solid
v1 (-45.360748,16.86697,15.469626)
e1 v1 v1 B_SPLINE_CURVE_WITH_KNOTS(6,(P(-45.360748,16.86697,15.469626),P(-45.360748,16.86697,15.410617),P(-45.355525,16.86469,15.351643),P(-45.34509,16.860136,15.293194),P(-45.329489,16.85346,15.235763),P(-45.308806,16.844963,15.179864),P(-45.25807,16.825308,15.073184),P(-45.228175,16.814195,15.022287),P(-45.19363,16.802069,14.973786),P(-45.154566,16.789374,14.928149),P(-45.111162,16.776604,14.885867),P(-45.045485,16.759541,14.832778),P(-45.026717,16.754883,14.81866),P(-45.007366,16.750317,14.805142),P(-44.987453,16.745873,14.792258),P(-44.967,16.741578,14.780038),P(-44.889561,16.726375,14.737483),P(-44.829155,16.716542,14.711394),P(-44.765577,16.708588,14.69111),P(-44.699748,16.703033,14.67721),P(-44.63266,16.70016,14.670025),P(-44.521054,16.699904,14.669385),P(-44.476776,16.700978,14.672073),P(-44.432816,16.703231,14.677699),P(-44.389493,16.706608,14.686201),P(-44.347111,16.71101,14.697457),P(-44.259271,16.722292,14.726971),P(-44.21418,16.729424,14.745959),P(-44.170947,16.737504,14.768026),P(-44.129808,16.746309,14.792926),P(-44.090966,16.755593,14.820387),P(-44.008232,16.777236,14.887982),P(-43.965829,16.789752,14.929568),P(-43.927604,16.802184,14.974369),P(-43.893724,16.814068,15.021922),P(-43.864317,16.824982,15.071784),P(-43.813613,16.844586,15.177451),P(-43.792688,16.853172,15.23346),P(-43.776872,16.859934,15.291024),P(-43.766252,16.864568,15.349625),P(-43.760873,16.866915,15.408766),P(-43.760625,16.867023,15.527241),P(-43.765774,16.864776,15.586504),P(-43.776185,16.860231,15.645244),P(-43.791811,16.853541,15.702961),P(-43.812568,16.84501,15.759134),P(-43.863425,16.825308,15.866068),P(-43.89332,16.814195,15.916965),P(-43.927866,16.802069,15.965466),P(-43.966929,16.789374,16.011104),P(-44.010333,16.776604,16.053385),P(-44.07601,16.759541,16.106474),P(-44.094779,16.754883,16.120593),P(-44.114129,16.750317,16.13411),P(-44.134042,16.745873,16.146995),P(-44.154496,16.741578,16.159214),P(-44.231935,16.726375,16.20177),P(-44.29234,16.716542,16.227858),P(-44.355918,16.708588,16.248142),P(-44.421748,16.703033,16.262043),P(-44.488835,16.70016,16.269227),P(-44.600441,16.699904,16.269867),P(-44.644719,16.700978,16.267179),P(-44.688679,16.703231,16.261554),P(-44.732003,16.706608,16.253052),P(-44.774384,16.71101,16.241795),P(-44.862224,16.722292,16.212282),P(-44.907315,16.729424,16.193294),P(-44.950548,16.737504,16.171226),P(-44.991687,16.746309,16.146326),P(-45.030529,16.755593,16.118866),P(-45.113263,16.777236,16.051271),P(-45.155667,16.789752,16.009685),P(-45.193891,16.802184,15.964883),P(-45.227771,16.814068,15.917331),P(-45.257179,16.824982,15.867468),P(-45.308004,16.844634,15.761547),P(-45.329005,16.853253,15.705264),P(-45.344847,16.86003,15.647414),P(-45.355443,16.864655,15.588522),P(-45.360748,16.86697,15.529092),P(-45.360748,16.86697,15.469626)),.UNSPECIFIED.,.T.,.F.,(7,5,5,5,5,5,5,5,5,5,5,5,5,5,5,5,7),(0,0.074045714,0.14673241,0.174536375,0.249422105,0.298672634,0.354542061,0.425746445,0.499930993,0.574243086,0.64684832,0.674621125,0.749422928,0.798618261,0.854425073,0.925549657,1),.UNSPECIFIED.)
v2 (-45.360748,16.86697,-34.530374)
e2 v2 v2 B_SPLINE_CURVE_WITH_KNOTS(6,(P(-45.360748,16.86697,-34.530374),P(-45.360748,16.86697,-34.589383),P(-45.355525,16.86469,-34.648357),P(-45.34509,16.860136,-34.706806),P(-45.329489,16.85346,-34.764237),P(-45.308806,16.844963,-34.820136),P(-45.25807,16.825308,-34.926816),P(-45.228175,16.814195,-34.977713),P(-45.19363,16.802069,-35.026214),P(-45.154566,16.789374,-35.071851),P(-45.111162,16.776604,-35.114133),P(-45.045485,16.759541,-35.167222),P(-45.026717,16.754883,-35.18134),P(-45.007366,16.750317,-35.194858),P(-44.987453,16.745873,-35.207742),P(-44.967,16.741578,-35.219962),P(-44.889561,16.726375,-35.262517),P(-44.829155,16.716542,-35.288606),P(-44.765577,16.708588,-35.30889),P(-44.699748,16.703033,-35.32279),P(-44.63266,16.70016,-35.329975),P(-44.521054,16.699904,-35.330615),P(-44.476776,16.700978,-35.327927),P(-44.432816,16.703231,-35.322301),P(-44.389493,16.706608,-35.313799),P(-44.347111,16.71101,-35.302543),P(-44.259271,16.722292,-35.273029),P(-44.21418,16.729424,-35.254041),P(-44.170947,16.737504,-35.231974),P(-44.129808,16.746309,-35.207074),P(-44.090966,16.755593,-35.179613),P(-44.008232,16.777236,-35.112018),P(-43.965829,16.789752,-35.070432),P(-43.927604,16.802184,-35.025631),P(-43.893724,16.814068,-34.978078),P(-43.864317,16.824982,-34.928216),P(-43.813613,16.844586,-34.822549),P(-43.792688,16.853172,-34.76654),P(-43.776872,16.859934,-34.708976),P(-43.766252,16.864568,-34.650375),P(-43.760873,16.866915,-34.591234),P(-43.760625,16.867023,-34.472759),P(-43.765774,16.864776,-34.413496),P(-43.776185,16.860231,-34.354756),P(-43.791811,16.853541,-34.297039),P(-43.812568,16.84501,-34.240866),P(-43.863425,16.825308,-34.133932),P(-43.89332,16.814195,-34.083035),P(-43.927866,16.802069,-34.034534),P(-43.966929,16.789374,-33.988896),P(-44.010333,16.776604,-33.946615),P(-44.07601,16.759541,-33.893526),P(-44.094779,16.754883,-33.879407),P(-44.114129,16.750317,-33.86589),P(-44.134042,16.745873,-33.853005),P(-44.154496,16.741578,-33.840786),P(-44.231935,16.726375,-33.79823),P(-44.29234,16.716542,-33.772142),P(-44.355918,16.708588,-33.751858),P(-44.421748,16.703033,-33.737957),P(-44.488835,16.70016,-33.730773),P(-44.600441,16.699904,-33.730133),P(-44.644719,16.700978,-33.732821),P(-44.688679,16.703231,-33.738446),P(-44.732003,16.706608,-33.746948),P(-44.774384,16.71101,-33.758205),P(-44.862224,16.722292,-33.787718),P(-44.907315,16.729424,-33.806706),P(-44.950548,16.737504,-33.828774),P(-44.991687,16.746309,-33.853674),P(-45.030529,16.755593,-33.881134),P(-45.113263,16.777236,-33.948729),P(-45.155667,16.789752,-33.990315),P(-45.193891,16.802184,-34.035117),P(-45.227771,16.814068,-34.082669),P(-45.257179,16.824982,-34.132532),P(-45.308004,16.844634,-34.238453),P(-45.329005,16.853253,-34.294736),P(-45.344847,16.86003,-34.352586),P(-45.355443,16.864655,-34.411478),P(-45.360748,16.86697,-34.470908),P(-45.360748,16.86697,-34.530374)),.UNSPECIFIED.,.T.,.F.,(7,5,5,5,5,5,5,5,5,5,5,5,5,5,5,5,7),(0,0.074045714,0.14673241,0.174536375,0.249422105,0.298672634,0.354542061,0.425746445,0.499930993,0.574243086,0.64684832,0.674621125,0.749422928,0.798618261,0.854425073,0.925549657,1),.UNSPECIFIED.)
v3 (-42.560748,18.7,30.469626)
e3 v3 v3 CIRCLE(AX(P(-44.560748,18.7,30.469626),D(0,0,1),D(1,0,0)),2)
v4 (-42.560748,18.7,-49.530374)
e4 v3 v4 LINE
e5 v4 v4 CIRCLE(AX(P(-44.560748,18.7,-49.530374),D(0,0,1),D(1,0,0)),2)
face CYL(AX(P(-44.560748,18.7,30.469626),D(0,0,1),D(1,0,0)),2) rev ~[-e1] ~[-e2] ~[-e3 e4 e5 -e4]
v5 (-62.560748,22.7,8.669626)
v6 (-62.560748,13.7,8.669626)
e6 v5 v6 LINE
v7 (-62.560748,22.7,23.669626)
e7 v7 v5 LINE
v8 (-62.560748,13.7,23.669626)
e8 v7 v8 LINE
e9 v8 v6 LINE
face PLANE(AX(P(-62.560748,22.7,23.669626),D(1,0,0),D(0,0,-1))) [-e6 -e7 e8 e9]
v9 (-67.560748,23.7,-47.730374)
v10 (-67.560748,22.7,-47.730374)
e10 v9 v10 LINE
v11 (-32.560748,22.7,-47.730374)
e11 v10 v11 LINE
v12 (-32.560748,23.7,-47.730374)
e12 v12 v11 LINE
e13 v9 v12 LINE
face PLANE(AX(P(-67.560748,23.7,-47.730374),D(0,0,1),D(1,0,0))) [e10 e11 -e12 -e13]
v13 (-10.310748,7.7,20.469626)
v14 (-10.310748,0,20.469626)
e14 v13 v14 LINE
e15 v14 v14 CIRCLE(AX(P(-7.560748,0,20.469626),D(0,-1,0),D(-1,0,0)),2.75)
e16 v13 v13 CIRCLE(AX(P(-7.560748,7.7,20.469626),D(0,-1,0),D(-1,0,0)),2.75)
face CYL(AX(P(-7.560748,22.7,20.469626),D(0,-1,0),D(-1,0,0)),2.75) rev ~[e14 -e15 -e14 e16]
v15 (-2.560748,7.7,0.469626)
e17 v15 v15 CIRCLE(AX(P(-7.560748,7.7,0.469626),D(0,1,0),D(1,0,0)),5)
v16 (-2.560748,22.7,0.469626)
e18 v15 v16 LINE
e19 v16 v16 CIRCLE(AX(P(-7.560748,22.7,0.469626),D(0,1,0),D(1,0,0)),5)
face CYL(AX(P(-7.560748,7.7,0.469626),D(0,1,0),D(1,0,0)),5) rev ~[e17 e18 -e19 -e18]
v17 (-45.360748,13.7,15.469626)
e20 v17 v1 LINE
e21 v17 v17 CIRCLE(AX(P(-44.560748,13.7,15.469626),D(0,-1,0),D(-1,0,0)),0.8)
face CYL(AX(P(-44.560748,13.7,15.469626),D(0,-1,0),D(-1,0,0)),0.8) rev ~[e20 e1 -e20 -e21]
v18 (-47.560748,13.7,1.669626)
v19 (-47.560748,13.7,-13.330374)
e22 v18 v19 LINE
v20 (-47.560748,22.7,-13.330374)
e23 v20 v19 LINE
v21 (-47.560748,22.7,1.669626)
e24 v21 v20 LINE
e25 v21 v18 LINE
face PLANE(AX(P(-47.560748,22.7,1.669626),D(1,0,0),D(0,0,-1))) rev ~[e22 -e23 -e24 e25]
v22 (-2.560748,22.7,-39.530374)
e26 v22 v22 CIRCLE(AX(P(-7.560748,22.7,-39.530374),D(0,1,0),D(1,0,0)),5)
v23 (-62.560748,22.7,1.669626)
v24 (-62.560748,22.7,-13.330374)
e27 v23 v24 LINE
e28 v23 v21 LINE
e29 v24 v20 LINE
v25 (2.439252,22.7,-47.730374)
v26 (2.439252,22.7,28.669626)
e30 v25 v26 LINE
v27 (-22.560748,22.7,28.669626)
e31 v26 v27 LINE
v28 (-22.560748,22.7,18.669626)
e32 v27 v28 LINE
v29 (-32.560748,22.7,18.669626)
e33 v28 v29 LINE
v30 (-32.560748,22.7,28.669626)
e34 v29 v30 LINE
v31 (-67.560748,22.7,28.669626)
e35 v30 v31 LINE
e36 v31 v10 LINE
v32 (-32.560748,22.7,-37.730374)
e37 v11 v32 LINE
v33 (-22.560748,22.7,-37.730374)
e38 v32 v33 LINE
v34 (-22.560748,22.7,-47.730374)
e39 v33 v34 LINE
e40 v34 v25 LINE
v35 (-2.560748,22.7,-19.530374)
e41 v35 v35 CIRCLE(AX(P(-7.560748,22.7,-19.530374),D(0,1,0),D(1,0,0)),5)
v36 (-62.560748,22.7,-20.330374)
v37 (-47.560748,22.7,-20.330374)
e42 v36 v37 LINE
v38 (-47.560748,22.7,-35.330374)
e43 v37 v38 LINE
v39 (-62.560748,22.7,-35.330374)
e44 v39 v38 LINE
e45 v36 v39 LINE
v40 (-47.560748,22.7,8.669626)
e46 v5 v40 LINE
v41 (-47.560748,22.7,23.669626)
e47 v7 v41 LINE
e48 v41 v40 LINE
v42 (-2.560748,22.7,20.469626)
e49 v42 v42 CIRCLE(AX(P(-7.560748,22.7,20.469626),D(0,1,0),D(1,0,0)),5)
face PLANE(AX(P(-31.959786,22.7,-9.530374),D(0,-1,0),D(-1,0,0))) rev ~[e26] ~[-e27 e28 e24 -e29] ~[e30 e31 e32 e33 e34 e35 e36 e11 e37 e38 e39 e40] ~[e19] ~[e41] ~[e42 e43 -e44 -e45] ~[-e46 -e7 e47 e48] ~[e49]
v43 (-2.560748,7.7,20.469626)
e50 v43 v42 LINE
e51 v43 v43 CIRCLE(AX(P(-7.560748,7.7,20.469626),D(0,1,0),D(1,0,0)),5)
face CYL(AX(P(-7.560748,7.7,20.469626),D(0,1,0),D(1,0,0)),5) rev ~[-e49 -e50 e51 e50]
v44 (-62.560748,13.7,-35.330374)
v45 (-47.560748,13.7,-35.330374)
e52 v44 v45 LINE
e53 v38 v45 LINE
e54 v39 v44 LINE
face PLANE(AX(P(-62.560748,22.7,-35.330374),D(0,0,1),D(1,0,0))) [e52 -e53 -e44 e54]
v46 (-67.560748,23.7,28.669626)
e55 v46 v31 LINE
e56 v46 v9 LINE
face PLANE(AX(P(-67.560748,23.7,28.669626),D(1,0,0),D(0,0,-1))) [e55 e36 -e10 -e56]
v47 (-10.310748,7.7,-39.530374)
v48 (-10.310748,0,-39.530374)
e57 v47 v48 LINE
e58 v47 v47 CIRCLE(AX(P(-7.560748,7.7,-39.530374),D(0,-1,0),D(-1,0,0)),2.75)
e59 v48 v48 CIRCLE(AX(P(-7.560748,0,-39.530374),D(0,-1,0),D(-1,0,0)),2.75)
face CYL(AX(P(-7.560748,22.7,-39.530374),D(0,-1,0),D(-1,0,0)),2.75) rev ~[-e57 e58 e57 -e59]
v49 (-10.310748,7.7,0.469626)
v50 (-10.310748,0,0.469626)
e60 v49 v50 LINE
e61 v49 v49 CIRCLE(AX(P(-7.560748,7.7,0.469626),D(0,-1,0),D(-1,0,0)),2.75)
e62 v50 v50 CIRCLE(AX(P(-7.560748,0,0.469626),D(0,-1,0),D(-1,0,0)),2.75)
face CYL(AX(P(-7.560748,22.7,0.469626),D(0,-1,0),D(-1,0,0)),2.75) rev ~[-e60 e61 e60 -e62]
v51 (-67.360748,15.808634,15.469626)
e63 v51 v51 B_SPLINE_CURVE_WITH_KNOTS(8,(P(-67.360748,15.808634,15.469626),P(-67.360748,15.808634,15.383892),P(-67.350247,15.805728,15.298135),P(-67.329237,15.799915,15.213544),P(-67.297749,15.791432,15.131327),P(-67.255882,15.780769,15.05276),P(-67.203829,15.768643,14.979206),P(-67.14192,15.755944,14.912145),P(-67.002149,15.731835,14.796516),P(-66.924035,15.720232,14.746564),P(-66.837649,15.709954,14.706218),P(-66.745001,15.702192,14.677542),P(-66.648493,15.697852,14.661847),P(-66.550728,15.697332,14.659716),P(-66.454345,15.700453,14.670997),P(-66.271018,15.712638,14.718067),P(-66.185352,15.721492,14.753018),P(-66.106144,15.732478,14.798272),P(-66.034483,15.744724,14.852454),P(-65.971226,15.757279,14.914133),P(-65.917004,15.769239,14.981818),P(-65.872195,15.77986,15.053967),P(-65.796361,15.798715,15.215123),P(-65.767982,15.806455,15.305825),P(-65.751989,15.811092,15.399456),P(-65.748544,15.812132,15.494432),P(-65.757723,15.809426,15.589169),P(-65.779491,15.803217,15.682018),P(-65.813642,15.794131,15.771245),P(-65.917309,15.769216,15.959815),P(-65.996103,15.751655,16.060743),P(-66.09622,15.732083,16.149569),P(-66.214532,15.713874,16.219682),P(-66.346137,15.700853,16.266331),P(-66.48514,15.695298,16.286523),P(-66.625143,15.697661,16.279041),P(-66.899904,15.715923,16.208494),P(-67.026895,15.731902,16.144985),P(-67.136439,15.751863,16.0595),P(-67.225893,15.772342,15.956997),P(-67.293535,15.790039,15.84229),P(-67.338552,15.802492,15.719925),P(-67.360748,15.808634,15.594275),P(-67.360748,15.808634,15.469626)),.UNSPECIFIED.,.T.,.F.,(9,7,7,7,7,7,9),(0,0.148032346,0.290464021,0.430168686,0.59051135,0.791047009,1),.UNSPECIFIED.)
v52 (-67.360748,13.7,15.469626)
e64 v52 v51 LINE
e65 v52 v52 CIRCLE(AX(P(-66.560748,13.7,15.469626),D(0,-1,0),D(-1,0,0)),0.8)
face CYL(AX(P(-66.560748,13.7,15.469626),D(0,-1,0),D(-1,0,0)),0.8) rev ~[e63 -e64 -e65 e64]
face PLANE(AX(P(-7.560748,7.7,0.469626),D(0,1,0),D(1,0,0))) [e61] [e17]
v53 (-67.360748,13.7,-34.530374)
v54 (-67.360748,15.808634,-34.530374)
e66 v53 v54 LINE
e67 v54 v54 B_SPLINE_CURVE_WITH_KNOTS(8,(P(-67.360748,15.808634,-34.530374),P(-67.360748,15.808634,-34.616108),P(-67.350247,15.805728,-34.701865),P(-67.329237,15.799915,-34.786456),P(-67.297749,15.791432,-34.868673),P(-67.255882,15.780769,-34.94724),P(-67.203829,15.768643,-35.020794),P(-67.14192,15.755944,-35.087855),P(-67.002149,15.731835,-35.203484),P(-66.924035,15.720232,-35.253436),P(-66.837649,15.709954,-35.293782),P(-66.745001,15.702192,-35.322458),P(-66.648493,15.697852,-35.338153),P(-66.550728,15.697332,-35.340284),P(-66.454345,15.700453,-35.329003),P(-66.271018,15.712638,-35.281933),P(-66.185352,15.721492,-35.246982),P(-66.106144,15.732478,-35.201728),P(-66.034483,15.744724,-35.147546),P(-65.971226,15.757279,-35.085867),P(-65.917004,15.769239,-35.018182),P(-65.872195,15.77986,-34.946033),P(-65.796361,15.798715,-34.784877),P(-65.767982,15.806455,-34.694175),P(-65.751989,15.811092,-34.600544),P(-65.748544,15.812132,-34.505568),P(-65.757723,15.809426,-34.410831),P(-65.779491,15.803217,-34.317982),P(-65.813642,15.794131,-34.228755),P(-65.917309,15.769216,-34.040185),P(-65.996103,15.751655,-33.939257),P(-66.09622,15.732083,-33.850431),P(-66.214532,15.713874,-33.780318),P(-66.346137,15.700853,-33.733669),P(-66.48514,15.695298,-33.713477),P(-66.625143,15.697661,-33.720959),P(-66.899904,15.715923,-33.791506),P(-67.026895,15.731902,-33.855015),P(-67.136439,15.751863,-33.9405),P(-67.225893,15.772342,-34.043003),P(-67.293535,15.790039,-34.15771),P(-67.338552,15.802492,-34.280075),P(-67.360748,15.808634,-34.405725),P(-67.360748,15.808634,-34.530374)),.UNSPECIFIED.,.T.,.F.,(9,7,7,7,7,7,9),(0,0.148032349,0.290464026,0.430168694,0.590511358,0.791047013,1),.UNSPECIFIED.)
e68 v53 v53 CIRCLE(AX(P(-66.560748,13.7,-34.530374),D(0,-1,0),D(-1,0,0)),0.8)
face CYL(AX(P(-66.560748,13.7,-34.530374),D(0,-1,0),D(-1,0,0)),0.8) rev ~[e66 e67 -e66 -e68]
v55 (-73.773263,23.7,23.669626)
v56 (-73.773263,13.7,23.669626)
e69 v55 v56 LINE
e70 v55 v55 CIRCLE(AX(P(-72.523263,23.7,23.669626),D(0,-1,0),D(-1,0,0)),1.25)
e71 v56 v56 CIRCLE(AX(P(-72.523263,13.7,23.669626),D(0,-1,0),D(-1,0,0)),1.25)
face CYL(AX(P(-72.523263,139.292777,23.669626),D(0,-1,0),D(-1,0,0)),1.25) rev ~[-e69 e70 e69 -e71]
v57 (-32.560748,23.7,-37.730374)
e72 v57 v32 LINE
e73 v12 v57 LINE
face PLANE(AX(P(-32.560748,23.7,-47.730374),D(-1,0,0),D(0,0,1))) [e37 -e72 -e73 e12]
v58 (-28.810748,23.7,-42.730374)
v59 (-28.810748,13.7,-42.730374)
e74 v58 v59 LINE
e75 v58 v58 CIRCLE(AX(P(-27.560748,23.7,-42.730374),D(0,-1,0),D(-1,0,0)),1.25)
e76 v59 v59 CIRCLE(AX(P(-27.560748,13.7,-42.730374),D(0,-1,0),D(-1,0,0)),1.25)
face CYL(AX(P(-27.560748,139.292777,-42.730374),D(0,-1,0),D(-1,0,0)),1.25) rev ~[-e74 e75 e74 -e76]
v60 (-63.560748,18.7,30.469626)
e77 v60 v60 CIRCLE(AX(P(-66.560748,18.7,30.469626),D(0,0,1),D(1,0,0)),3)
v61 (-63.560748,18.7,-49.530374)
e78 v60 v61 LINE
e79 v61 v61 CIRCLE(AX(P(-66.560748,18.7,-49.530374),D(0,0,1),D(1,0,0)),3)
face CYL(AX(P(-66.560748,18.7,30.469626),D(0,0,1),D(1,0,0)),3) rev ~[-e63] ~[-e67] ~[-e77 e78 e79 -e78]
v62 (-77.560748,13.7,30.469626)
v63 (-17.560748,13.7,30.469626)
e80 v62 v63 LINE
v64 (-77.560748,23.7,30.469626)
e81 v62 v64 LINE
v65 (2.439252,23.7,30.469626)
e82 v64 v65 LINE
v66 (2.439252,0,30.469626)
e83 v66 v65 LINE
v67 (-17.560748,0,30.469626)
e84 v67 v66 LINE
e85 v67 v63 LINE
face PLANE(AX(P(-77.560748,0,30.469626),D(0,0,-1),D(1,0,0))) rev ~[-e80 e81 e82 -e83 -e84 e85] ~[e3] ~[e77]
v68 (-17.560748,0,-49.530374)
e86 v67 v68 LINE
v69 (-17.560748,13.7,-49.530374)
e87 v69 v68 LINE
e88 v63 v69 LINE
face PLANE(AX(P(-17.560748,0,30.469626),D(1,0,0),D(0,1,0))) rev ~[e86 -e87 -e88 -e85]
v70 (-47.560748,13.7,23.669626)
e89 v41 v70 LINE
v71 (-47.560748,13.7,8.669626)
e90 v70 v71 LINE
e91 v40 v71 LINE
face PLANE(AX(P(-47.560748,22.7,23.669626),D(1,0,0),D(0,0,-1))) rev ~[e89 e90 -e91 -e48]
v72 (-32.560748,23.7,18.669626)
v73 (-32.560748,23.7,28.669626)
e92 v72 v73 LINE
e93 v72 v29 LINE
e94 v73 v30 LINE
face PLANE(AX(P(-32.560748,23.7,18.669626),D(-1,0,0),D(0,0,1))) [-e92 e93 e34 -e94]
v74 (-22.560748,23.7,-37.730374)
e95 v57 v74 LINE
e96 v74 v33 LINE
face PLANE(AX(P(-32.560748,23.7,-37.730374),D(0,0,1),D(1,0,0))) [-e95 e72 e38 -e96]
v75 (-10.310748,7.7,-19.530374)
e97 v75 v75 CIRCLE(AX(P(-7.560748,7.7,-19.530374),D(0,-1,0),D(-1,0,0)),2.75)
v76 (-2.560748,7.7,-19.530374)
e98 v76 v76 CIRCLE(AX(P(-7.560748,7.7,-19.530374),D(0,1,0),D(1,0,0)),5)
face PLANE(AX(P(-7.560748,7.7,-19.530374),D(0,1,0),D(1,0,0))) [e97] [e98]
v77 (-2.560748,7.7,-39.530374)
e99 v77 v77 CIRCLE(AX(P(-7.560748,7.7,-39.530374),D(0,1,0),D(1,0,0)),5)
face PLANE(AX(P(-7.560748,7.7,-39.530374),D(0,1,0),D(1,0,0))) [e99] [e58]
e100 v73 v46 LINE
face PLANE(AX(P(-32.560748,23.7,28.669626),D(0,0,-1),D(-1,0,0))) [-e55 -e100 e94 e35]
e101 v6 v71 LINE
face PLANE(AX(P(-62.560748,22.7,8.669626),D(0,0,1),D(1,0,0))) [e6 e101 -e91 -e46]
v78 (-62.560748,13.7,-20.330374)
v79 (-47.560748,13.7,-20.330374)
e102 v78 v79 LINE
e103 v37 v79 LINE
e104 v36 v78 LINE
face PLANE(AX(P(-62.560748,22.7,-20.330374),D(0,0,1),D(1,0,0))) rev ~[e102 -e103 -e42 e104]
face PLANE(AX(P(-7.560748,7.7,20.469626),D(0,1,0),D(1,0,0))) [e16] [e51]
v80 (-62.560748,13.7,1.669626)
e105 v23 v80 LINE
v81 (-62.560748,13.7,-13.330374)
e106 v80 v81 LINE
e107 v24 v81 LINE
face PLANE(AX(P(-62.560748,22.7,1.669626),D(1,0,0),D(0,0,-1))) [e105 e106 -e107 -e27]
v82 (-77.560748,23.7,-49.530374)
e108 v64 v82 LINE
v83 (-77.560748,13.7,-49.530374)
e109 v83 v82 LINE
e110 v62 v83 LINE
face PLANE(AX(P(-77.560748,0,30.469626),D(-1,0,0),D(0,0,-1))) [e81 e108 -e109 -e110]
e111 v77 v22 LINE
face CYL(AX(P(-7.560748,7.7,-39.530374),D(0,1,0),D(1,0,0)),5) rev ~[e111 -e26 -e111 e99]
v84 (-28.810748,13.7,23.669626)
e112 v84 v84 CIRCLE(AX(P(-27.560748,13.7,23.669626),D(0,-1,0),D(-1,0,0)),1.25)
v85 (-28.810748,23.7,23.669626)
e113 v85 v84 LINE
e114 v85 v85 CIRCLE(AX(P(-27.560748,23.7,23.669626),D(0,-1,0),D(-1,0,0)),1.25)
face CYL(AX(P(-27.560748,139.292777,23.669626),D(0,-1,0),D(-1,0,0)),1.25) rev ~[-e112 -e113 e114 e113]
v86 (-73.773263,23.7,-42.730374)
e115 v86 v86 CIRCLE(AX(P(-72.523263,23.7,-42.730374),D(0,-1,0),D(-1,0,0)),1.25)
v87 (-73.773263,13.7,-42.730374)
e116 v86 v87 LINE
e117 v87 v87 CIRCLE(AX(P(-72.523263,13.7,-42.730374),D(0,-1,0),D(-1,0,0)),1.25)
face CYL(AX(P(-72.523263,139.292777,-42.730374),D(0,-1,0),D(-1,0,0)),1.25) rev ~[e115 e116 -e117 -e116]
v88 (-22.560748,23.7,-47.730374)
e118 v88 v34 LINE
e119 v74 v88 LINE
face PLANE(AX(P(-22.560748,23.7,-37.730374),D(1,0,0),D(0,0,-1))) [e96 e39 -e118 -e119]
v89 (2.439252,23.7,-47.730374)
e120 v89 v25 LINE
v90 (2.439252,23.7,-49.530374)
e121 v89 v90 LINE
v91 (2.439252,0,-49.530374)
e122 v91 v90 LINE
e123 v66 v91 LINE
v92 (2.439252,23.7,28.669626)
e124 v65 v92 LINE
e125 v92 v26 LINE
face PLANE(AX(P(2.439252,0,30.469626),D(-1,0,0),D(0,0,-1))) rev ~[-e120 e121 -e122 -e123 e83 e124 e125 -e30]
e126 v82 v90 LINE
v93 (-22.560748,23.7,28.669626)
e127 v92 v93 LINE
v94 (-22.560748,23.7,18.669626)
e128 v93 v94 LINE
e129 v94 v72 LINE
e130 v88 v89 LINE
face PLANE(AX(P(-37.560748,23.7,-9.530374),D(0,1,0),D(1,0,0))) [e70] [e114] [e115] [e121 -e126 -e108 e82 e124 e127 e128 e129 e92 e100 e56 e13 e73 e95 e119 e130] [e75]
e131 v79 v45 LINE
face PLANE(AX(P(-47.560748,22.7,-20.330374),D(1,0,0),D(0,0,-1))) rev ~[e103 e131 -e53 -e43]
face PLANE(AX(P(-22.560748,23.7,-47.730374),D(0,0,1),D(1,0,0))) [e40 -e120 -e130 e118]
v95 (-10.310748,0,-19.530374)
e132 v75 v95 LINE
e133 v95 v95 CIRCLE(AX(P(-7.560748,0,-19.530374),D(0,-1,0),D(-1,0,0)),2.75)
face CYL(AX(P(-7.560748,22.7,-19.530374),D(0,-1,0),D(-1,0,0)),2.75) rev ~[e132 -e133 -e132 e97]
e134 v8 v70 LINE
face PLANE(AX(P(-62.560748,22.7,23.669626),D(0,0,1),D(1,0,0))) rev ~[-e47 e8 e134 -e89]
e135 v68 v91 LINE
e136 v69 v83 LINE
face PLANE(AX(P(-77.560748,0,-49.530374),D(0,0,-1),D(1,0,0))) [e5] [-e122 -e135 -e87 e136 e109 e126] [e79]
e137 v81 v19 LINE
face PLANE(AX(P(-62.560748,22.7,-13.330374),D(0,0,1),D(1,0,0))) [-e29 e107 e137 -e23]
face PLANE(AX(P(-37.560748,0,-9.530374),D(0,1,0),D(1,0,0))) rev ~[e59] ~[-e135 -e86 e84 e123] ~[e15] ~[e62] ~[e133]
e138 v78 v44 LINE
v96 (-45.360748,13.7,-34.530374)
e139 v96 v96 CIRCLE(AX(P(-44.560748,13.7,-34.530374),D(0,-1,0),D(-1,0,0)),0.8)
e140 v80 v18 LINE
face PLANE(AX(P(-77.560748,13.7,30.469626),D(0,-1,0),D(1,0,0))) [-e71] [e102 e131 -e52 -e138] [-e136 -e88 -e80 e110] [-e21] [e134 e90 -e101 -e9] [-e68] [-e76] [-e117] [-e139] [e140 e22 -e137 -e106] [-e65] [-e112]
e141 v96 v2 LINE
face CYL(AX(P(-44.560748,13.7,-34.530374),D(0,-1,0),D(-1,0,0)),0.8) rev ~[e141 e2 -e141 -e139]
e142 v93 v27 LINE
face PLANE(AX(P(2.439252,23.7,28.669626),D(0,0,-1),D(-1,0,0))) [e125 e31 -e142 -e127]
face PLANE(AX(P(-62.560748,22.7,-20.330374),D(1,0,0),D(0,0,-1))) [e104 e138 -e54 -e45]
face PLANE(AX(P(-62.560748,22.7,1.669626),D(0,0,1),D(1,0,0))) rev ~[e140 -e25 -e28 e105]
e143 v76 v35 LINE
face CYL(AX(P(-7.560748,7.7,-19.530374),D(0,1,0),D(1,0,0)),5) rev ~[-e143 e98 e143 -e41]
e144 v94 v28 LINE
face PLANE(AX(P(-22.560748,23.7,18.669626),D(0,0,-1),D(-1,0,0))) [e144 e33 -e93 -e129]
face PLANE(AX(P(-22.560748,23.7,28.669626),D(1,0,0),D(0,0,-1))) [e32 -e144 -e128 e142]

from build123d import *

# Parameters (mm, degrees)
SKETCH1_W                                     = 80
SKETCH1_H                                     = 80
BOSS_EXTRUDE1_DEPTH                           = 23.7
CUT_EXTRUDE1_DEPTH                            = 1
SKETCH3_W                                     = 15
SKETCH3_H                                     = 15
CUT_EXTRUDE2_DEPTH                            = 95.785112281
SKETCH4_W                                     = 60
SKETCH4_H                                     = 13.7
CUT_EXTRUDE3_DEPTH                            = 114.918214427
SKETCH5_R                                     = 3
SKETCH5_R_2                                   = 2
CUT_EXTRUDE4_DEPTH                            = 114.918214427
CBORE_FOR_M5_HEX_SOCKET_HEAD_CAP1_D           = 5.5
CBORE_FOR_M5_HEX_SOCKET_HEAD_CAP1_CBORE_D     = 10
CBORE_FOR_M5_HEX_SOCKET_HEAD_CAP1_CBORE_DEPTH = 15
M3X0_5_TAPPED_HOLE1_D                         = 2.5
M2X0_4_TAPPED_HOLE1_REACH                     = 95.041
M2X0_4_TAPPED_HOLE1_BORE_R                    = 0.8


with BuildPart() as part:
    # Sketch1 → Boss-Extrude1 (new body)
    with BuildSketch(Plane(origin=(0, 0, 0), x_dir=(1, 0, 0), z_dir=(0, 1, 0))):
        with Locations((-37.560747664, 9.530373832)):
            Rectangle(SKETCH1_W, SKETCH1_H)
    extrude(amount=BOSS_EXTRUDE1_DEPTH)

    # Sketch2 → Cut-Extrude1 (cut)
    with BuildSketch(Plane(origin=(0, 23.7, 0), x_dir=(1, 0, 0), z_dir=(0, 1, 0))):
        Polygon((2.439252336, -28.669626168), (-22.560747664, -28.669626168), (-22.560747664, -18.669626168), (-32.560747664, -18.669626168), (-32.560747664, -28.669626168), (-67.560747664, -28.669626168), (-67.560747664, 47.730373832), (-32.560747664, 47.730373832), (-32.560747664, 37.730373832), (-22.560747664, 37.730373832), (-22.560747664, 47.730373832), (2.439252336, 47.730373832), align=None)
    extrude(amount=-CUT_EXTRUDE1_DEPTH, mode=Mode.SUBTRACT)

    # Sketch3 → Cut-Extrude2 (cut, through all)
    with BuildSketch(Plane(origin=(0, 22.7, 0), x_dir=(1, 0, 0), z_dir=(0, 1, 0))):
        with Locations((-55.060747664, -16.169626168)):
            Rectangle(SKETCH3_W, SKETCH3_H)
        with Locations((-55.060747664, 5.830373832)):
            Rectangle(SKETCH3_W, SKETCH3_H)
        with Locations((-55.060747664, 27.830373832)):
            Rectangle(SKETCH3_W, SKETCH3_H)
    extrude(amount=-CUT_EXTRUDE2_DEPTH, mode=Mode.SUBTRACT)

    # Sketch4 → Cut-Extrude3 (cut, through all)
    with BuildSketch(Plane.XY.offset(30.469626168)):
        with Locations((-47.560747664, 6.85)):
            Rectangle(SKETCH4_W, SKETCH4_H)
    extrude(amount=-CUT_EXTRUDE3_DEPTH, mode=Mode.SUBTRACT)

    # Sketch5 → Cut-Extrude4 (cut, through all)
    with BuildSketch(Plane.XY.offset(30.469626168)):
        with Locations((-66.560747664, 18.7)):
            Circle(SKETCH5_R)
        with Locations((-44.560747664, 18.7)):
            Circle(SKETCH5_R_2)
    extrude(amount=-CUT_EXTRUDE4_DEPTH, mode=Mode.SUBTRACT)

    # CBORE for M5 Hex Socket Head Cap1 (through all)
    with Locations(Plane(origin=(0, 22.7, 0), x_dir=(1, 0, 0), z_dir=(0, 1, 0))):
        with Locations((-7.560747664, -20.469626168), (-7.560747664, -0.469626168), (-7.560747664, 19.530373832), (-7.560747664, 39.530373832)):
            CounterBoreHole(CBORE_FOR_M5_HEX_SOCKET_HEAD_CAP1_D / 2, CBORE_FOR_M5_HEX_SOCKET_HEAD_CAP1_CBORE_D / 2, CBORE_FOR_M5_HEX_SOCKET_HEAD_CAP1_CBORE_DEPTH)

    # M3x0.5 Tapped Hole1 (through all)
    with Locations(Plane(origin=(0, 23.7, 0), x_dir=(1, 0, 0), z_dir=(0, 1, 0))):
        with Locations((-27.560747664, -23.669626168), (-27.560747664, 42.730373832), (-72.523263375, -23.669626168), (-72.523263375, 42.730373832)):
            Hole(M3X0_5_TAPPED_HOLE1_D / 2)

    # M2x0.4 Tapped Hole1 bore → M2x0.4 Tapped Hole1 (cut, up to next)
    with BuildSketch(Plane(origin=(0, 13.7, 0), x_dir=(-1, 0, 0), z_dir=(0, -1, 0)), mode=Mode.PRIVATE) as m2x0_4_tapped_hole1_sk1:
        with Locations((66.560747664, -15.469626168)):
            Circle(M2X0_4_TAPPED_HOLE1_BORE_R)
    m2x0_4_tapped_hole1_tool1 = extrude(m2x0_4_tapped_hole1_sk1.sketch, amount=-M2X0_4_TAPPED_HOLE1_REACH, mode=Mode.PRIVATE) & part.part
    # M2x0.4 Tapped Hole1 bore → M2x0.4 Tapped Hole1 (cut, up to next)
    with BuildSketch(Plane(origin=(0, 13.7, 0), x_dir=(-1, 0, 0), z_dir=(0, -1, 0)), mode=Mode.PRIVATE) as m2x0_4_tapped_hole1_sk2:
        with Locations((44.560747664, -15.469626168)):
            Circle(M2X0_4_TAPPED_HOLE1_BORE_R)
    m2x0_4_tapped_hole1_tool2 = extrude(m2x0_4_tapped_hole1_sk2.sketch, amount=-M2X0_4_TAPPED_HOLE1_REACH, mode=Mode.PRIVATE) & part.part
    # M2x0.4 Tapped Hole1 bore → M2x0.4 Tapped Hole1 (cut, up to next)
    with BuildSketch(Plane(origin=(0, 13.7, 0), x_dir=(-1, 0, 0), z_dir=(0, -1, 0)), mode=Mode.PRIVATE) as m2x0_4_tapped_hole1_sk3:
        with Locations((66.560747664, 34.530373832)):
            Circle(M2X0_4_TAPPED_HOLE1_BORE_R)
    m2x0_4_tapped_hole1_tool3 = extrude(m2x0_4_tapped_hole1_sk3.sketch, amount=-M2X0_4_TAPPED_HOLE1_REACH, mode=Mode.PRIVATE) & part.part
    # M2x0.4 Tapped Hole1 bore → M2x0.4 Tapped Hole1 (cut, up to next)
    with BuildSketch(Plane(origin=(0, 13.7, 0), x_dir=(-1, 0, 0), z_dir=(0, -1, 0)), mode=Mode.PRIVATE) as m2x0_4_tapped_hole1_sk4:
        with Locations((44.560747664, 34.530373832)):
            Circle(M2X0_4_TAPPED_HOLE1_BORE_R)
    m2x0_4_tapped_hole1_tool4 = extrude(m2x0_4_tapped_hole1_sk4.sketch, amount=-M2X0_4_TAPPED_HOLE1_REACH, mode=Mode.PRIVATE) & part.part
    add(m2x0_4_tapped_hole1_tool1.solids().sort_by_distance((-66.560748, 13.7, 15.469626))[0], mode=Mode.SUBTRACT)
    add(m2x0_4_tapped_hole1_tool2.solids().sort_by_distance((-44.560748, 13.7, 15.469626))[0], mode=Mode.SUBTRACT)
    add(m2x0_4_tapped_hole1_tool3.solids().sort_by_distance((-66.560748, 13.7, -34.530374))[0], mode=Mode.SUBTRACT)
    add(m2x0_4_tapped_hole1_tool4.solids().sort_by_distance((-44.560748, 13.7, -34.530374))[0], mode=Mode.SUBTRACT)


solid = part.part
